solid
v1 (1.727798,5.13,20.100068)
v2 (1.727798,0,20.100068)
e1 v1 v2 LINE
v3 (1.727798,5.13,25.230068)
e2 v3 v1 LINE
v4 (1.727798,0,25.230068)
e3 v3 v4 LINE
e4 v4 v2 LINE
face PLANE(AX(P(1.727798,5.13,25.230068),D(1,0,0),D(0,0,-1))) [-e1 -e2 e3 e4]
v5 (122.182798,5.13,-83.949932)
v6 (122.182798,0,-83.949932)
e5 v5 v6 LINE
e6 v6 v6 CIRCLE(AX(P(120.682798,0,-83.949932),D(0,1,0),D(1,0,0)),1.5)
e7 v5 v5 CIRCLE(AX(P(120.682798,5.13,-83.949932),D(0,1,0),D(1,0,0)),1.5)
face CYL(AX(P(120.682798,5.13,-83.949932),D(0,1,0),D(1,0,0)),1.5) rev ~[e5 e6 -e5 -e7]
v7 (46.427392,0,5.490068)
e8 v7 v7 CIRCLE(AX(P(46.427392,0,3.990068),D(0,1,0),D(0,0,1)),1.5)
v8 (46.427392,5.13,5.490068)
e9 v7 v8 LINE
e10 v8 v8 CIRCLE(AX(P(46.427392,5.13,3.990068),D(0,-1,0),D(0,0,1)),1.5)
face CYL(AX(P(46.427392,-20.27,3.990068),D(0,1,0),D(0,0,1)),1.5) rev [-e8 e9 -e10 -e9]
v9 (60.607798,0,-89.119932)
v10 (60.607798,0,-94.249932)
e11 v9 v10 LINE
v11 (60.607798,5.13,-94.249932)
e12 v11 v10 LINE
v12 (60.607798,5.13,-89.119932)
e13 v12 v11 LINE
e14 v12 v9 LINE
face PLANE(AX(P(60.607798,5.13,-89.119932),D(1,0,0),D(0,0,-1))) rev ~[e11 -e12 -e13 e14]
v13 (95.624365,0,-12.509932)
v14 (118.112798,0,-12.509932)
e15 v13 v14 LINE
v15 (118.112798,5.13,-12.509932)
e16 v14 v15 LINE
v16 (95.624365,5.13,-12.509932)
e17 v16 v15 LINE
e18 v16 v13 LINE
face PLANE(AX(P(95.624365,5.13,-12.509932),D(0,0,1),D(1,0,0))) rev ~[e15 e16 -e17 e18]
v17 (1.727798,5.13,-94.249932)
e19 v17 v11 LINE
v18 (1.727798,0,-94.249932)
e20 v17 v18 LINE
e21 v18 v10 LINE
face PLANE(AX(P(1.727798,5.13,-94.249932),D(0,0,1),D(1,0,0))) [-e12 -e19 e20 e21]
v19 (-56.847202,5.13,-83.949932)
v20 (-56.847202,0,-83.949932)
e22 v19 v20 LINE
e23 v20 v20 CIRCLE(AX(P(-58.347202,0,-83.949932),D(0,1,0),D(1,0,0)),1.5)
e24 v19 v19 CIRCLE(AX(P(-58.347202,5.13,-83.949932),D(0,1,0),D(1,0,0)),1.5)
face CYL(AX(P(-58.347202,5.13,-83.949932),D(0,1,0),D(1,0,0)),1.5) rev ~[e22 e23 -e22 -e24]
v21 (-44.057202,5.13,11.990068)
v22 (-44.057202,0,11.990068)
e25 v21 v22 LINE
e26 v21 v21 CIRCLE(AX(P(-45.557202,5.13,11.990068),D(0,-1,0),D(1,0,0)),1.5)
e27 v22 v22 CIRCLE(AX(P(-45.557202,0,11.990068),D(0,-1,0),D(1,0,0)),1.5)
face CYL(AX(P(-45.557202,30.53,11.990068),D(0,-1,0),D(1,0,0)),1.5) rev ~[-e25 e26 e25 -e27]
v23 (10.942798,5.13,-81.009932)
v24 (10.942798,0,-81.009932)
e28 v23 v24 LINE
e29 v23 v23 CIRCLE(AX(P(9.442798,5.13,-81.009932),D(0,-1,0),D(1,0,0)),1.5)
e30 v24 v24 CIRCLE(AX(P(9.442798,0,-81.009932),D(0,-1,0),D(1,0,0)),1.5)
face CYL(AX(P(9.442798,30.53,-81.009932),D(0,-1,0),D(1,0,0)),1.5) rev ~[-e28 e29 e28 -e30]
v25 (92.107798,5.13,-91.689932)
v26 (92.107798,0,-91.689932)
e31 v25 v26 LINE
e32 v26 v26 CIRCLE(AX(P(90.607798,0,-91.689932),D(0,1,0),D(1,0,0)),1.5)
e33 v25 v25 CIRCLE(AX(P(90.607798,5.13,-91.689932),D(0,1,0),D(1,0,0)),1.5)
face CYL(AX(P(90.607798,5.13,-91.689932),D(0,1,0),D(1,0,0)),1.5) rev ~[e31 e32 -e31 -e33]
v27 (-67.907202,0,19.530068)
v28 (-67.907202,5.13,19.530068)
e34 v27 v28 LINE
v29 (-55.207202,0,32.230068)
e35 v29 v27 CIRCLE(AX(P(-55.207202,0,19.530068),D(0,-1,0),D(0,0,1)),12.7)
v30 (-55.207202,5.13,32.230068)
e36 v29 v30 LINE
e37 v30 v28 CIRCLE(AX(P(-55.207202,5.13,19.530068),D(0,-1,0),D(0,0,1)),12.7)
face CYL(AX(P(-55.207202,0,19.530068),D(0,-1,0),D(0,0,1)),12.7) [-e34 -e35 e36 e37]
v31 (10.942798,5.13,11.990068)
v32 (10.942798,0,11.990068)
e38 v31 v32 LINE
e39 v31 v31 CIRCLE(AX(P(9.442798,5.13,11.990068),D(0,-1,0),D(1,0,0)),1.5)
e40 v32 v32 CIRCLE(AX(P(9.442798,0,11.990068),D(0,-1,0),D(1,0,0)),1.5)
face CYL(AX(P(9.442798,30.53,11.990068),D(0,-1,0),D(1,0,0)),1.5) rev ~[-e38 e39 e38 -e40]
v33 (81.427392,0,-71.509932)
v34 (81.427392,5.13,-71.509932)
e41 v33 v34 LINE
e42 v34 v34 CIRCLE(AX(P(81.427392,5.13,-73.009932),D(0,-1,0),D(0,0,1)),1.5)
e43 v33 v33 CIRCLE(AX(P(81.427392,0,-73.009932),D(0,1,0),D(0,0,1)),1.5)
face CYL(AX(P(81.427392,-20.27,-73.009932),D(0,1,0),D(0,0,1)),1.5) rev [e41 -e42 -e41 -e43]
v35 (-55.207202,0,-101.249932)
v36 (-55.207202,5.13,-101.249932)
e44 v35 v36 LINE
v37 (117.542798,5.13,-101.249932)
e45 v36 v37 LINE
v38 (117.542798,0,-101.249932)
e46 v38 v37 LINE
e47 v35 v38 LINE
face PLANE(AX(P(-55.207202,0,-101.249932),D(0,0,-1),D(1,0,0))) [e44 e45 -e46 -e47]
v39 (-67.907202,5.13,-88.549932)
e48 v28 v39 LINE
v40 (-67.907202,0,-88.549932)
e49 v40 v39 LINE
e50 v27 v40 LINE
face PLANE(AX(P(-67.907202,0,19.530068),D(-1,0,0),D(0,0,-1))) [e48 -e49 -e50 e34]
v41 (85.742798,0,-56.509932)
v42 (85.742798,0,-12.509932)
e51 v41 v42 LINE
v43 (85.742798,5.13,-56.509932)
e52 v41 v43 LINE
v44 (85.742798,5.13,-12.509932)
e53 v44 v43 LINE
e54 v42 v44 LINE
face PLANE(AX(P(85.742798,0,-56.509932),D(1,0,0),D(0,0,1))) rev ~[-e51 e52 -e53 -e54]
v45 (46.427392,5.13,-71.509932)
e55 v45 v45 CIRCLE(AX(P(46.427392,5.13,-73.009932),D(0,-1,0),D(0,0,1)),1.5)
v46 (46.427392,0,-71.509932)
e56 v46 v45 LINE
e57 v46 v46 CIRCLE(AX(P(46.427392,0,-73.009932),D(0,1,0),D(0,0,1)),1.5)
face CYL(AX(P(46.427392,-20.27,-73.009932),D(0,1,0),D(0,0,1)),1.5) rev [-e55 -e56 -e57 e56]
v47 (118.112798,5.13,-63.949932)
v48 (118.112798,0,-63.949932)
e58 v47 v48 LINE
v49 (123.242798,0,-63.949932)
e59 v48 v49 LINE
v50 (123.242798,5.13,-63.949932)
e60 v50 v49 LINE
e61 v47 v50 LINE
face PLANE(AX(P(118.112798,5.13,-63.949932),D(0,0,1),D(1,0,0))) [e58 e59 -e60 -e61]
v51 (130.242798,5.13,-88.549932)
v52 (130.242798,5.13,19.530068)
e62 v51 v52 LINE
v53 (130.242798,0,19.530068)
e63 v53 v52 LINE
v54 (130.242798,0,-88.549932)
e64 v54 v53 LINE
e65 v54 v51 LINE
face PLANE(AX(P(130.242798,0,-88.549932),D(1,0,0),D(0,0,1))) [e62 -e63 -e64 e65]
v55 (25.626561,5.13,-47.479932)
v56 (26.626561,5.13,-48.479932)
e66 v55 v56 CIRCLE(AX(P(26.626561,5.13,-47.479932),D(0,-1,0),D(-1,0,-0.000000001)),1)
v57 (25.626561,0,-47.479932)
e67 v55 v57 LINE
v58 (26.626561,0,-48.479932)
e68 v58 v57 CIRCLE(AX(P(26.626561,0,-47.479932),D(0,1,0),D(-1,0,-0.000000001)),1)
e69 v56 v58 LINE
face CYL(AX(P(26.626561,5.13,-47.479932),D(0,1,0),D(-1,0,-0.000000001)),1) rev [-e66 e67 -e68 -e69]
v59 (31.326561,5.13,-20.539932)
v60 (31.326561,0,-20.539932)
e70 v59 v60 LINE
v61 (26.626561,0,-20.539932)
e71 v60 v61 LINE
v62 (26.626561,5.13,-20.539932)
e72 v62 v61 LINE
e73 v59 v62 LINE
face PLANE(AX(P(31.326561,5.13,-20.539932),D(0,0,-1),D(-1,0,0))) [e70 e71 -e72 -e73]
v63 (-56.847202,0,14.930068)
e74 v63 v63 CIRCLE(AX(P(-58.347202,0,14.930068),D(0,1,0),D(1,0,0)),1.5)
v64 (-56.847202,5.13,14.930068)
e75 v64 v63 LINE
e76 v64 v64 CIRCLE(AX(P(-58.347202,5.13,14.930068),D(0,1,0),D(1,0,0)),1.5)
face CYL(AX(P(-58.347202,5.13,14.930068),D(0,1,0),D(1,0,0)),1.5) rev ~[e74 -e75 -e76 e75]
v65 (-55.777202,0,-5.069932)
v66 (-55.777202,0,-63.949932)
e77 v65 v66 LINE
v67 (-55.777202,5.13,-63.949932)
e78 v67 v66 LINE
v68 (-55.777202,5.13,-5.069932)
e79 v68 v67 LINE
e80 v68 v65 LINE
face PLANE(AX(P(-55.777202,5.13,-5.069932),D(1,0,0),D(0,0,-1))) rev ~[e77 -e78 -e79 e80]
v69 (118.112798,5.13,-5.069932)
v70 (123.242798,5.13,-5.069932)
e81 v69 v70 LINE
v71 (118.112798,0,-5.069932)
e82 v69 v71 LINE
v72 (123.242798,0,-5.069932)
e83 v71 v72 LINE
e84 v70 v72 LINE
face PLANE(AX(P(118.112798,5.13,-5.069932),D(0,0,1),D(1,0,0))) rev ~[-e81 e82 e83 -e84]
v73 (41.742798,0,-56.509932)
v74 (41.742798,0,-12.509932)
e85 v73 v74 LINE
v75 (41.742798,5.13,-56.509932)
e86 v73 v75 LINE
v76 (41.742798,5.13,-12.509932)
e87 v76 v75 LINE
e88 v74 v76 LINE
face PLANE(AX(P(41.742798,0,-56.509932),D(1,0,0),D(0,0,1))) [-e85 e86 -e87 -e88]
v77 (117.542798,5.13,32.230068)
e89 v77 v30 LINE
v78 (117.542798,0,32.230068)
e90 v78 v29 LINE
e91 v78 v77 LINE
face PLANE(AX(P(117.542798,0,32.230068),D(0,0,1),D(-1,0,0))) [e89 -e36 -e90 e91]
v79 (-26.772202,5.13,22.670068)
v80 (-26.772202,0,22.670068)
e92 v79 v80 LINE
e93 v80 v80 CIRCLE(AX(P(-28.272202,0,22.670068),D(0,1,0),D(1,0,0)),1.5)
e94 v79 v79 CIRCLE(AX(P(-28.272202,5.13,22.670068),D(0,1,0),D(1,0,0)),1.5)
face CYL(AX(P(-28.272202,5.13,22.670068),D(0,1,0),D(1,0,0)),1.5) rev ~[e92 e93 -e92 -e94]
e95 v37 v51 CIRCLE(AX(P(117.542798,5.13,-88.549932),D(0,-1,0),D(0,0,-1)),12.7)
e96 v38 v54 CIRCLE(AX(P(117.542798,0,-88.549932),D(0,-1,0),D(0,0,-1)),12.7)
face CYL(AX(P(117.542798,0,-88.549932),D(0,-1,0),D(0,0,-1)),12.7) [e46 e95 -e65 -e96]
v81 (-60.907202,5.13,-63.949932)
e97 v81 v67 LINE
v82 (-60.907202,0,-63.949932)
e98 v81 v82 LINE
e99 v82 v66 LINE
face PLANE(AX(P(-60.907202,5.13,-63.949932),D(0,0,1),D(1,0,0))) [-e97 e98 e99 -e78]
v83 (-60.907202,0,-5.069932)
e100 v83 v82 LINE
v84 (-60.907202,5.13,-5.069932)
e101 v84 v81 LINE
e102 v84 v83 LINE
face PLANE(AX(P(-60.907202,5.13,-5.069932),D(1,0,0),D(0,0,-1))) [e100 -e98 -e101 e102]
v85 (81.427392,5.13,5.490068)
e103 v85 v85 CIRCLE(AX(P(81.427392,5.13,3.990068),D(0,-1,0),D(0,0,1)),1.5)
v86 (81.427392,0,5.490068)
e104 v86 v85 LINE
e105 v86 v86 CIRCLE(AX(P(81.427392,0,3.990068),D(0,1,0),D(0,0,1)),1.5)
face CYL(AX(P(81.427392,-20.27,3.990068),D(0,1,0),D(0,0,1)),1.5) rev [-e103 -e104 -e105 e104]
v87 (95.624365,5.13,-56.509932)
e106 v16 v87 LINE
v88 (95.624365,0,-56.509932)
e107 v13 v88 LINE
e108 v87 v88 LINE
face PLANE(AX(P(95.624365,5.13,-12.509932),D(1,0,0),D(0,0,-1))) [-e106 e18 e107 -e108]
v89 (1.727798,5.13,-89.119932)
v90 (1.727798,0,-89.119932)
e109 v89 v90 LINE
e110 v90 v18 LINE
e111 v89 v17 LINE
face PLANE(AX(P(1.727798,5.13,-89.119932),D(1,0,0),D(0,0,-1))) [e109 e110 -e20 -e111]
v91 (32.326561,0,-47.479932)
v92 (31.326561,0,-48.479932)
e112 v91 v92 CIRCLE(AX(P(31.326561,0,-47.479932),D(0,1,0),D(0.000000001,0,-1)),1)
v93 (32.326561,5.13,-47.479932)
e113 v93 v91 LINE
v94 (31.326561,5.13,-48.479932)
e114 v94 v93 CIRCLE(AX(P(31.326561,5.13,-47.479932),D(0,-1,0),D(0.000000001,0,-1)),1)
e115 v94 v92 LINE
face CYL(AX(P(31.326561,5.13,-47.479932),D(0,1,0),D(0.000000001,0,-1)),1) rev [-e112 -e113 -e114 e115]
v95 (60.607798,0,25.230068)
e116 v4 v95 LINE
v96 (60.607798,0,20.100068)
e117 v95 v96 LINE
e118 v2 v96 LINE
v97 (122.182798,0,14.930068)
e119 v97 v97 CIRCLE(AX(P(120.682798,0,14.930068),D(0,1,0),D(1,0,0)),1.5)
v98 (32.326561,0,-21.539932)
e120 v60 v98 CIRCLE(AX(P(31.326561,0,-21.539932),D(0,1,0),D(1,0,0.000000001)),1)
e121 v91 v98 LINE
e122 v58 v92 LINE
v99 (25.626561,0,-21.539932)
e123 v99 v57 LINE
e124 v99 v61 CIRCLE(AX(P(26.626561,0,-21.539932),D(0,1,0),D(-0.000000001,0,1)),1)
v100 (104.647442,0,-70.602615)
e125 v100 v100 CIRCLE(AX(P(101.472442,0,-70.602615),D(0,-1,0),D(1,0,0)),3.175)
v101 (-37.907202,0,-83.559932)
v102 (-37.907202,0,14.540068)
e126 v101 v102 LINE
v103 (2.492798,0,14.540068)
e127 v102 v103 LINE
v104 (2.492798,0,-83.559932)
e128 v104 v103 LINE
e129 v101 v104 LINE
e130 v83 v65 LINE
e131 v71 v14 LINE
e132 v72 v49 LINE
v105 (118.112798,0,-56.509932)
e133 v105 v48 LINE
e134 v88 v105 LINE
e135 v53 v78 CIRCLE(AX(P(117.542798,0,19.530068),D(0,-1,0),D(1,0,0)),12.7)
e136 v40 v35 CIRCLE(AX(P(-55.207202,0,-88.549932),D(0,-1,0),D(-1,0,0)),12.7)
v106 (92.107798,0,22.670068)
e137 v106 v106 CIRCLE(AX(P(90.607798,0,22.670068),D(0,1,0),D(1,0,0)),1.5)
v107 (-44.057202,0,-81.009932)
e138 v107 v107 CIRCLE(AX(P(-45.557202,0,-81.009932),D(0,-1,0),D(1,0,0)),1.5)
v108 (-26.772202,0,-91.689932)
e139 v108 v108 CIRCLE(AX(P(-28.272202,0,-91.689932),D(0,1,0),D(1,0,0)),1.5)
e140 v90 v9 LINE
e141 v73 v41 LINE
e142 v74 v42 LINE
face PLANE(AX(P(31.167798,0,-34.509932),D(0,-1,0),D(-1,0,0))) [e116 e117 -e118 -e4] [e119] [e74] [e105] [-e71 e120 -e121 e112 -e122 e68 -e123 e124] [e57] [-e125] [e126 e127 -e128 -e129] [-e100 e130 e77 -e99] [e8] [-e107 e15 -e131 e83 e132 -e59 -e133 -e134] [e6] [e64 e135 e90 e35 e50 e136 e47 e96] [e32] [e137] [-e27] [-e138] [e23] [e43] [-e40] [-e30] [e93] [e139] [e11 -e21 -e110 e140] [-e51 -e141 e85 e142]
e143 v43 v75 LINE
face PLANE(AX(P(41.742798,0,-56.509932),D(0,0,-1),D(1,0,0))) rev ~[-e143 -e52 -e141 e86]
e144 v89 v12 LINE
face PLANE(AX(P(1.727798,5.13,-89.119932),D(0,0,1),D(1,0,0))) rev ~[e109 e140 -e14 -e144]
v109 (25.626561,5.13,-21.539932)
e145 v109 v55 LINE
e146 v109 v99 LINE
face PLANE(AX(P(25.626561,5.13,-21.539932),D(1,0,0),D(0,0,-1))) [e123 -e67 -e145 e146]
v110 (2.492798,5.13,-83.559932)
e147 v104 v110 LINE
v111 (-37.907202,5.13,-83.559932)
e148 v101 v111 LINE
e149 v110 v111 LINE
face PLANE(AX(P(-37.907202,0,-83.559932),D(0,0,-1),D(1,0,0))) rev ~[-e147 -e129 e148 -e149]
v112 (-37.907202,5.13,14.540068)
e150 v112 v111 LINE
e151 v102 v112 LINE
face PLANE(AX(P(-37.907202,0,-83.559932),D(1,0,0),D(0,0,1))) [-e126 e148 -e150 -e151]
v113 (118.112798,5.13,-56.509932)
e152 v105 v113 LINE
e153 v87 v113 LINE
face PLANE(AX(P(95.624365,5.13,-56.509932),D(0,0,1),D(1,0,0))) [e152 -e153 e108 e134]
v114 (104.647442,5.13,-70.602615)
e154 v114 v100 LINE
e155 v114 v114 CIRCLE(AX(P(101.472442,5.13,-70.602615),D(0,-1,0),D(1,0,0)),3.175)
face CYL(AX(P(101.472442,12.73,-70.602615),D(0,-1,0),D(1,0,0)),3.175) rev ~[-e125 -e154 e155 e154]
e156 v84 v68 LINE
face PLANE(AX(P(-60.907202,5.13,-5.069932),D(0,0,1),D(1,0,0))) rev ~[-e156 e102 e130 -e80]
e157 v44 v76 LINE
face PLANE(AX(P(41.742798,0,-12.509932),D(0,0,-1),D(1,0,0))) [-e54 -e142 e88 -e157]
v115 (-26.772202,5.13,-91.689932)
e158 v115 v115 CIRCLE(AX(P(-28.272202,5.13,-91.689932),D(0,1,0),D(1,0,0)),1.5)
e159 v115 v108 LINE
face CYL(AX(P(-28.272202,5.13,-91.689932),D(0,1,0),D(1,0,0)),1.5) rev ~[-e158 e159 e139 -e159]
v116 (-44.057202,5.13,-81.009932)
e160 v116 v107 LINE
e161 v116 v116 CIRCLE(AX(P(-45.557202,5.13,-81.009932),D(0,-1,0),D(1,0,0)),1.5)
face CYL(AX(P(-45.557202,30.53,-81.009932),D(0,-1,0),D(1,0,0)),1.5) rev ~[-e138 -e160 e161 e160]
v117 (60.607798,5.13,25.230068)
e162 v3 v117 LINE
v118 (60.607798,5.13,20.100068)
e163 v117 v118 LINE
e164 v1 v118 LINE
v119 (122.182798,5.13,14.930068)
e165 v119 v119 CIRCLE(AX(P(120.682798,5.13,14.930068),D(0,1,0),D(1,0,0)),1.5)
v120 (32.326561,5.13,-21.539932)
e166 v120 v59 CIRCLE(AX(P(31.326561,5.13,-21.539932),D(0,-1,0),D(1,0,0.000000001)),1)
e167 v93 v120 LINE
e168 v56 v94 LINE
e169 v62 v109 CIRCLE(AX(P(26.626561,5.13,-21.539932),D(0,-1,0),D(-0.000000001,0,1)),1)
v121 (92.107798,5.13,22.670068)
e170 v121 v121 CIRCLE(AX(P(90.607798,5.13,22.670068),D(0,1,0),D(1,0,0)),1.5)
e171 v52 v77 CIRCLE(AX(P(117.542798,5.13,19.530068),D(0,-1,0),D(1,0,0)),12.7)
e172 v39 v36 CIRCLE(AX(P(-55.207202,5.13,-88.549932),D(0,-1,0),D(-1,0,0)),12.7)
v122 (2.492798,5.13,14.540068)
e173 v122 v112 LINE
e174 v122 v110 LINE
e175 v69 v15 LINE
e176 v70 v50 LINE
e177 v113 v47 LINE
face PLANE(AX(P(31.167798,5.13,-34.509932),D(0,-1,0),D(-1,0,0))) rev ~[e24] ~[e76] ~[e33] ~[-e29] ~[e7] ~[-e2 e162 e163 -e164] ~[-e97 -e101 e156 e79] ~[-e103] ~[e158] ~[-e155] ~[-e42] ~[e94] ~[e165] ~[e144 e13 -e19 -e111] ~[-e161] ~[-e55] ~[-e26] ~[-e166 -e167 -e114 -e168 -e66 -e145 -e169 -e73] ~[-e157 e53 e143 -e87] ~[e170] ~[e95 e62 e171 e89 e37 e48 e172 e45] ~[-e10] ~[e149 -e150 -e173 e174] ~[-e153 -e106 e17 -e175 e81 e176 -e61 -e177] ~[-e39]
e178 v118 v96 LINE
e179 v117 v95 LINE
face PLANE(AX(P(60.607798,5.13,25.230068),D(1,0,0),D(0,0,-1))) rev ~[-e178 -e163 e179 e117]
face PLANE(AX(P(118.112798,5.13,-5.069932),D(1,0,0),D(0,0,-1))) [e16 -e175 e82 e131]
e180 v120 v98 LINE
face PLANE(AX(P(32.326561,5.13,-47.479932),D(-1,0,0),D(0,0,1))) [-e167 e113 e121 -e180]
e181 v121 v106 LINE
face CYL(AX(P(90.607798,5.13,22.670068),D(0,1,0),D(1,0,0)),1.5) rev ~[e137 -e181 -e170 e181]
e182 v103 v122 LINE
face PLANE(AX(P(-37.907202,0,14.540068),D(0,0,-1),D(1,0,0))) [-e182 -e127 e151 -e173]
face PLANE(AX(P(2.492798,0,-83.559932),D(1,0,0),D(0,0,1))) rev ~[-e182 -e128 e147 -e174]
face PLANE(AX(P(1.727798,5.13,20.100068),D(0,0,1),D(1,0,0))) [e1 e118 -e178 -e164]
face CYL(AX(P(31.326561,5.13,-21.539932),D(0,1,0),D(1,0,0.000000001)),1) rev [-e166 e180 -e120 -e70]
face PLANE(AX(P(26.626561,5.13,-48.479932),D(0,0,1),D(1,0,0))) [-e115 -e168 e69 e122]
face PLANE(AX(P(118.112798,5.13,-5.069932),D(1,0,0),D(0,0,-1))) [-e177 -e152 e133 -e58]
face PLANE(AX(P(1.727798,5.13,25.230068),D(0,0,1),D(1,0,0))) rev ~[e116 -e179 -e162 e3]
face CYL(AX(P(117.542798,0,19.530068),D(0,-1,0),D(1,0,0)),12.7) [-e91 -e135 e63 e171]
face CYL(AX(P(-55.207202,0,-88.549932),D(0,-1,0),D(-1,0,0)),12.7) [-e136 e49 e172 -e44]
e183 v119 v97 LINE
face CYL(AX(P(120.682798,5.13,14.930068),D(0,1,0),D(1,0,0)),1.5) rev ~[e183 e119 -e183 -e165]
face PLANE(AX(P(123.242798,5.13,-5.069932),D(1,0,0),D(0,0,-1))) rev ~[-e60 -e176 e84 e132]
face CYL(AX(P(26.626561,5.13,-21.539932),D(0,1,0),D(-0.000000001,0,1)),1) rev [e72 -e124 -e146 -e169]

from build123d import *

# Parameters (mm, degrees)
MAIN_DEPTH                         = 5.13
ASSEMBLY_SLOTS_REACH               = 7.13
SKETCH2_R                          = 1.5
SKETCH2_W                          = 5.13
SKETCH2_H                          = 58.88
SKETCH2_W_2                        = 58.88
SKETCH2_H_2                        = 5.13
LCD_AND_BLOCK_SLOT_REACH           = 7.13
SKETCH3_W                          = 40.4
SKETCH3_H                          = 98.1
SKETCH3_W_2                        = 44
SKETCH3_H_2                        = 44
LCD_SCREWHOLES_D                   = 3
LCD_SCREWHOLES_DEPTH               = 25.4
LCD_SCREWHOLES_TIP                 = 0.901290929
CORE_SCREWHOLES_PATTERN_COUNT      = 2
CORE_SCREWHOLES_PATTERN_PITCH      = 35
CORE_SCREWHOLES_PATTERN_COUNT_DIR2 = 2
CORE_SCREWHOLES_PATTERN_PITCH_DIR2 = 77
HINGE_SLOT_REACH                   = 7.13
SKETCH11_W                         = 22.5
SKETCH11_H                         = 44
LATCH_SLOT_REACH                   = 7.13
LID_THERMISTOR_HOLE_D              = 6.35
LID_THERMISTOR_HOLE_DEPTH          = 7.6
LID_THERMISTOR_HOLE_TIP            = 1.907732465


with BuildPart() as part:
    # Sketch1 → Main (new body)
    with BuildSketch(Plane(origin=(0, 0, 0), x_dir=(1, 0, 0), z_dir=(0, 1, 0))):
        with BuildLine():
            Line((-55.207201859, 101.249932113), (117.542798141, 101.249932113))
            ThreePointArc((117.542798141, 101.249932113), (126.523054262, 97.530188234), (130.242798141, 88.549932113))
            Line((130.242798141, 88.549932113), (130.242798141, -19.530067887))
            ThreePointArc((130.242798141, -19.530067887), (126.523054262, -28.510324008), (117.542798141, -32.230067887))
            Line((117.542798141, -32.230067887), (-55.207201859, -32.230067887))
            ThreePointArc((-55.207201859, -32.230067887), (-64.18745798, -28.510324008), (-67.907201859, -19.530067887))
            Line((-67.907201859, -19.530067887), (-67.907201859, 88.549932113))
            ThreePointArc((-67.907201859, 88.549932113), (-64.18745798, 97.530188234), (-55.207201859, 101.249932113))
        make_face()
    extrude(amount=MAIN_DEPTH)

    # Sketch2 → Assembly slots (cut, up to next)
    with BuildSketch(Plane(origin=(0, 5.13, 0), x_dir=(1, 0, 0), z_dir=(0, 1, 0)), mode=Mode.PRIVATE) as assembly_slots_sk1:
        with Locations((-28.272201859, 91.689932113)):
            Circle(SKETCH2_R)
    assembly_slots_tool1 = extrude(assembly_slots_sk1.sketch, amount=-ASSEMBLY_SLOTS_REACH, mode=Mode.PRIVATE) & part.part
    add(assembly_slots_tool1.solids().sort_by_distance((-28.272202, 5.13, -91.689932))[0], mode=Mode.SUBTRACT)
    # Sketch2 → Assembly slots (cut, up to next)
    with BuildSketch(Plane(origin=(0, 5.13, 0), x_dir=(1, 0, 0), z_dir=(0, 1, 0)), mode=Mode.PRIVATE) as assembly_slots_sk2:
        with Locations((90.607798141, 91.689932113)):
            Circle(SKETCH2_R)
    assembly_slots_tool2 = extrude(assembly_slots_sk2.sketch, amount=-ASSEMBLY_SLOTS_REACH, mode=Mode.PRIVATE) & part.part
    add(assembly_slots_tool2.solids().sort_by_distance((90.607798, 5.13, -91.689932))[0], mode=Mode.SUBTRACT)
    # Sketch2 → Assembly slots (cut, up to next)
    with BuildSketch(Plane(origin=(0, 5.13, 0), x_dir=(1, 0, 0), z_dir=(0, 1, 0)), mode=Mode.PRIVATE) as assembly_slots_sk3:
        with Locations((-58.347201859, -14.930067887)):
            Circle(SKETCH2_R)
    assembly_slots_tool3 = extrude(assembly_slots_sk3.sketch, amount=-ASSEMBLY_SLOTS_REACH, mode=Mode.PRIVATE) & part.part
    add(assembly_slots_tool3.solids().sort_by_distance((-58.347202, 5.13, 14.930068))[0], mode=Mode.SUBTRACT)
    # Sketch2 → Assembly slots (cut, up to next)
    with BuildSketch(Plane(origin=(0, 5.13, 0), x_dir=(1, 0, 0), z_dir=(0, 1, 0)), mode=Mode.PRIVATE) as assembly_slots_sk4:
        with Locations((-58.347201859, 83.949932113)):
            Circle(SKETCH2_R)
    assembly_slots_tool4 = extrude(assembly_slots_sk4.sketch, amount=-ASSEMBLY_SLOTS_REACH, mode=Mode.PRIVATE) & part.part
    add(assembly_slots_tool4.solids().sort_by_distance((-58.347202, 5.13, -83.949932))[0], mode=Mode.SUBTRACT)
    # Sketch2 → Assembly slots (cut, up to next)
    with BuildSketch(Plane(origin=(0, 5.13, 0), x_dir=(1, 0, 0), z_dir=(0, 1, 0)), mode=Mode.PRIVATE) as assembly_slots_sk5:
        with Locations((120.682798141, 83.949932113)):
            Circle(SKETCH2_R)
    assembly_slots_tool5 = extrude(assembly_slots_sk5.sketch, amount=-ASSEMBLY_SLOTS_REACH, mode=Mode.PRIVATE) & part.part
    add(assembly_slots_tool5.solids().sort_by_distance((120.682798, 5.13, -83.949932))[0], mode=Mode.SUBTRACT)
    # Sketch2 → Assembly slots (cut, up to next)
    with BuildSketch(Plane(origin=(0, 5.13, 0), x_dir=(1, 0, 0), z_dir=(0, 1, 0)), mode=Mode.PRIVATE) as assembly_slots_sk6:
        with Locations((120.682798141, -14.930067887)):
            Circle(SKETCH2_R)
    assembly_slots_tool6 = extrude(assembly_slots_sk6.sketch, amount=-ASSEMBLY_SLOTS_REACH, mode=Mode.PRIVATE) & part.part
    add(assembly_slots_tool6.solids().sort_by_distance((120.682798, 5.13, 14.930068))[0], mode=Mode.SUBTRACT)
    # Sketch2 → Assembly slots (cut, up to next)
    with BuildSketch(Plane(origin=(0, 5.13, 0), x_dir=(1, 0, 0), z_dir=(0, 1, 0)), mode=Mode.PRIVATE) as assembly_slots_sk7:
        with Locations((90.607798141, -22.670067887)):
            Circle(SKETCH2_R)
    assembly_slots_tool7 = extrude(assembly_slots_sk7.sketch, amount=-ASSEMBLY_SLOTS_REACH, mode=Mode.PRIVATE) & part.part
    add(assembly_slots_tool7.solids().sort_by_distance((90.607798, 5.13, 22.670068))[0], mode=Mode.SUBTRACT)
    # Sketch2 → Assembly slots (cut, up to next)
    with BuildSketch(Plane(origin=(0, 5.13, 0), x_dir=(1, 0, 0), z_dir=(0, 1, 0)), mode=Mode.PRIVATE) as assembly_slots_sk8:
        with Locations((-28.272201859, -22.670067887)):
            Circle(SKETCH2_R)
    assembly_slots_tool8 = extrude(assembly_slots_sk8.sketch, amount=-ASSEMBLY_SLOTS_REACH, mode=Mode.PRIVATE) & part.part
    add(assembly_slots_tool8.solids().sort_by_distance((-28.272202, 5.13, 22.670068))[0], mode=Mode.SUBTRACT)
    # Sketch2 → Assembly slots (cut, up to next)
    with BuildSketch(Plane(origin=(0, 5.13, 0), x_dir=(1, 0, 0), z_dir=(0, 1, 0)), mode=Mode.PRIVATE) as assembly_slots_sk9:
        with Locations((-58.342201859, 34.509932113)):
            Rectangle(SKETCH2_W, SKETCH2_H)
    assembly_slots_tool9 = extrude(assembly_slots_sk9.sketch, amount=-ASSEMBLY_SLOTS_REACH, mode=Mode.PRIVATE) & part.part
    add(assembly_slots_tool9.solids().sort_by_distance((-58.342202, 5.13, -34.509932))[0], mode=Mode.SUBTRACT)
    # Sketch2 → Assembly slots (cut, up to next)
    with BuildSketch(Plane(origin=(0, 5.13, 0), x_dir=(1, 0, 0), z_dir=(0, 1, 0)), mode=Mode.PRIVATE) as assembly_slots_sk10:
        with Locations((31.167798141, 91.684932113)):
            Rectangle(SKETCH2_W_2, SKETCH2_H_2)
    assembly_slots_tool10 = extrude(assembly_slots_sk10.sketch, amount=-ASSEMBLY_SLOTS_REACH, mode=Mode.PRIVATE) & part.part
    add(assembly_slots_tool10.solids().sort_by_distance((31.167798, 5.13, -91.684932))[0], mode=Mode.SUBTRACT)
    # Sketch2 → Assembly slots (cut, up to next)
    with BuildSketch(Plane(origin=(0, 5.13, 0), x_dir=(1, 0, 0), z_dir=(0, 1, 0)), mode=Mode.PRIVATE) as assembly_slots_sk11:
        with Locations((120.677798141, 34.509932113)):
            Rectangle(SKETCH2_W, SKETCH2_H)
    assembly_slots_tool11 = extrude(assembly_slots_sk11.sketch, amount=-ASSEMBLY_SLOTS_REACH, mode=Mode.PRIVATE) & part.part
    add(assembly_slots_tool11.solids().sort_by_distance((120.677798, 5.13, -34.509932))[0], mode=Mode.SUBTRACT)
    # Sketch2 → Assembly slots (cut, up to next)
    with BuildSketch(Plane(origin=(0, 5.13, 0), x_dir=(1, 0, 0), z_dir=(0, 1, 0)), mode=Mode.PRIVATE) as assembly_slots_sk12:
        with Locations((31.167798141, -22.665067887)):
            Rectangle(SKETCH2_W_2, SKETCH2_H_2)
    assembly_slots_tool12 = extrude(assembly_slots_sk12.sketch, amount=-ASSEMBLY_SLOTS_REACH, mode=Mode.PRIVATE) & part.part
    add(assembly_slots_tool12.solids().sort_by_distance((31.167798, 5.13, 22.665068))[0], mode=Mode.SUBTRACT)

    # Sketch3 → LCD and Block slot (cut, up to next)
    with BuildSketch(Plane.XZ, mode=Mode.PRIVATE) as lcd_and_block_slot_sk1:
        with Locations((-17.707201859, -34.509932113)):
            Rectangle(SKETCH3_W, SKETCH3_H)
    lcd_and_block_slot_tool1 = extrude(lcd_and_block_slot_sk1.sketch, amount=-LCD_AND_BLOCK_SLOT_REACH, mode=Mode.PRIVATE) & part.part
    add(lcd_and_block_slot_tool1.solids().sort_by_distance((-17.707202, 0, -34.509932))[0], mode=Mode.SUBTRACT)
    # Sketch3 → LCD and Block slot (cut, up to next)
    with BuildSketch(Plane.XZ, mode=Mode.PRIVATE) as lcd_and_block_slot_sk2:
        with Locations((63.742798141, -34.509932113)):
            Rectangle(SKETCH3_W_2, SKETCH3_H_2)
    lcd_and_block_slot_tool2 = extrude(lcd_and_block_slot_sk2.sketch, amount=-LCD_AND_BLOCK_SLOT_REACH, mode=Mode.PRIVATE) & part.part
    add(lcd_and_block_slot_tool2.solids().sort_by_distance((63.742798, 0, -34.509932))[0], mode=Mode.SUBTRACT)

    # LCD screwholes
    with Locations(Plane(origin=(0, 5.13, 0), x_dir=(-1, 0, 0), z_dir=(0, 1, 0))):
        with Locations((45.557201859, 11.990067887), (-9.442798141, 11.990067887), (45.557201859, -81.009932113), (-9.442798141, -81.009932113)):
            Hole(LCD_SCREWHOLES_D / 2, depth=LCD_SCREWHOLES_DEPTH)
            with Locations((0, 0, -(LCD_SCREWHOLES_DEPTH + LCD_SCREWHOLES_TIP / 2))):  # 118° drill point
                Cone(0, LCD_SCREWHOLES_D / 2, LCD_SCREWHOLES_TIP, mode=Mode.SUBTRACT)

    # Sketch8 → Core screwholes (revolve, cut)
    with BuildSketch(Plane(origin=(46.427392408, 5.13, -73.009932113), x_dir=(0, 0, 1), z_dir=(1, 0, 0))):
        Polygon((0, 0), (0, 26.301290929), (1.5, 25.4), (1.5, 0), align=None)
    core_screwholes = revolve(axis=Axis((46.427392408, 11.48, -73.009932113), (0, -1, 0)), mode=Mode.SUBTRACT)

    # Core screwholes pattern: Core screwholes 2 × 2
    with Locations(*[(i * CORE_SCREWHOLES_PATTERN_PITCH, 0, j * CORE_SCREWHOLES_PATTERN_PITCH_DIR2) for i in range(CORE_SCREWHOLES_PATTERN_COUNT) for j in range(CORE_SCREWHOLES_PATTERN_COUNT_DIR2) if (i, j) != (0, 0)]):
        add(core_screwholes, mode=Mode.SUBTRACT)

    # Sketch11 → Hinge slot (cut, up to next)
    with BuildSketch(Plane(origin=(0, 5.13, 0), x_dir=(1, 0, 0), z_dir=(0, 1, 0)), mode=Mode.PRIVATE) as hinge_slot_sk1:
        with Locations((106.874365391, 34.509932113)):
            Rectangle(SKETCH11_W, SKETCH11_H)
    hinge_slot_tool1 = extrude(hinge_slot_sk1.sketch, amount=-HINGE_SLOT_REACH, mode=Mode.PRIVATE) & part.part
    add(hinge_slot_tool1.solids().sort_by_distance((106.874365, 5.13, -34.509932))[0], mode=Mode.SUBTRACT)

    # Sketch13 → Latch Slot (cut, up to next)
    with BuildSketch(Plane(origin=(0, 5.13, 0), x_dir=(1, 0, 0), z_dir=(0, 1, 0)), mode=Mode.PRIVATE) as latch_slot_sk1:
        with BuildLine():
            Line((26.626560662, 48.479932113), (31.326560662, 48.479932113))
            ThreePointArc((31.326560662, 48.479932113), (32.033667443, 48.187038894), (32.326560662, 47.479932113))
            Line((32.326560662, 47.479932113), (32.326560662, 21.539932113))
            ThreePointArc((32.326560662, 21.539932113), (32.033667443, 20.832825332), (31.326560662, 20.539932113))
            Line((31.326560662, 20.539932113), (26.626560662, 20.539932113))
            ThreePointArc((26.626560662, 20.539932113), (25.919453881, 20.832825332), (25.626560662, 21.539932113))
            Line((25.626560662, 21.539932113), (25.626560662, 47.479932113))
            ThreePointArc((25.626560662, 47.479932113), (25.919453881, 48.187038894), (26.626560662, 48.479932113))
        make_face()
    latch_slot_tool1 = extrude(latch_slot_sk1.sketch, amount=-LATCH_SLOT_REACH, mode=Mode.PRIVATE) & part.part
    add(latch_slot_tool1.solids().sort_by_distance((28.976561, 5.13, -34.509932))[0], mode=Mode.SUBTRACT)

    # Lid thermistor hole
    with Locations(Plane(origin=(0, 5.13, 0), x_dir=(-1, 0, 0), z_dir=(0, 1, 0))):
        with Locations((-101.47244154, -70.602615051)):
            Hole(LID_THERMISTOR_HOLE_D / 2, depth=LID_THERMISTOR_HOLE_DEPTH)
            with Locations((0, 0, -(LID_THERMISTOR_HOLE_DEPTH + LID_THERMISTOR_HOLE_TIP / 2))):  # 118° drill point
                Cone(0, LID_THERMISTOR_HOLE_D / 2, LID_THERMISTOR_HOLE_TIP, mode=Mode.SUBTRACT)


solid = part.part
